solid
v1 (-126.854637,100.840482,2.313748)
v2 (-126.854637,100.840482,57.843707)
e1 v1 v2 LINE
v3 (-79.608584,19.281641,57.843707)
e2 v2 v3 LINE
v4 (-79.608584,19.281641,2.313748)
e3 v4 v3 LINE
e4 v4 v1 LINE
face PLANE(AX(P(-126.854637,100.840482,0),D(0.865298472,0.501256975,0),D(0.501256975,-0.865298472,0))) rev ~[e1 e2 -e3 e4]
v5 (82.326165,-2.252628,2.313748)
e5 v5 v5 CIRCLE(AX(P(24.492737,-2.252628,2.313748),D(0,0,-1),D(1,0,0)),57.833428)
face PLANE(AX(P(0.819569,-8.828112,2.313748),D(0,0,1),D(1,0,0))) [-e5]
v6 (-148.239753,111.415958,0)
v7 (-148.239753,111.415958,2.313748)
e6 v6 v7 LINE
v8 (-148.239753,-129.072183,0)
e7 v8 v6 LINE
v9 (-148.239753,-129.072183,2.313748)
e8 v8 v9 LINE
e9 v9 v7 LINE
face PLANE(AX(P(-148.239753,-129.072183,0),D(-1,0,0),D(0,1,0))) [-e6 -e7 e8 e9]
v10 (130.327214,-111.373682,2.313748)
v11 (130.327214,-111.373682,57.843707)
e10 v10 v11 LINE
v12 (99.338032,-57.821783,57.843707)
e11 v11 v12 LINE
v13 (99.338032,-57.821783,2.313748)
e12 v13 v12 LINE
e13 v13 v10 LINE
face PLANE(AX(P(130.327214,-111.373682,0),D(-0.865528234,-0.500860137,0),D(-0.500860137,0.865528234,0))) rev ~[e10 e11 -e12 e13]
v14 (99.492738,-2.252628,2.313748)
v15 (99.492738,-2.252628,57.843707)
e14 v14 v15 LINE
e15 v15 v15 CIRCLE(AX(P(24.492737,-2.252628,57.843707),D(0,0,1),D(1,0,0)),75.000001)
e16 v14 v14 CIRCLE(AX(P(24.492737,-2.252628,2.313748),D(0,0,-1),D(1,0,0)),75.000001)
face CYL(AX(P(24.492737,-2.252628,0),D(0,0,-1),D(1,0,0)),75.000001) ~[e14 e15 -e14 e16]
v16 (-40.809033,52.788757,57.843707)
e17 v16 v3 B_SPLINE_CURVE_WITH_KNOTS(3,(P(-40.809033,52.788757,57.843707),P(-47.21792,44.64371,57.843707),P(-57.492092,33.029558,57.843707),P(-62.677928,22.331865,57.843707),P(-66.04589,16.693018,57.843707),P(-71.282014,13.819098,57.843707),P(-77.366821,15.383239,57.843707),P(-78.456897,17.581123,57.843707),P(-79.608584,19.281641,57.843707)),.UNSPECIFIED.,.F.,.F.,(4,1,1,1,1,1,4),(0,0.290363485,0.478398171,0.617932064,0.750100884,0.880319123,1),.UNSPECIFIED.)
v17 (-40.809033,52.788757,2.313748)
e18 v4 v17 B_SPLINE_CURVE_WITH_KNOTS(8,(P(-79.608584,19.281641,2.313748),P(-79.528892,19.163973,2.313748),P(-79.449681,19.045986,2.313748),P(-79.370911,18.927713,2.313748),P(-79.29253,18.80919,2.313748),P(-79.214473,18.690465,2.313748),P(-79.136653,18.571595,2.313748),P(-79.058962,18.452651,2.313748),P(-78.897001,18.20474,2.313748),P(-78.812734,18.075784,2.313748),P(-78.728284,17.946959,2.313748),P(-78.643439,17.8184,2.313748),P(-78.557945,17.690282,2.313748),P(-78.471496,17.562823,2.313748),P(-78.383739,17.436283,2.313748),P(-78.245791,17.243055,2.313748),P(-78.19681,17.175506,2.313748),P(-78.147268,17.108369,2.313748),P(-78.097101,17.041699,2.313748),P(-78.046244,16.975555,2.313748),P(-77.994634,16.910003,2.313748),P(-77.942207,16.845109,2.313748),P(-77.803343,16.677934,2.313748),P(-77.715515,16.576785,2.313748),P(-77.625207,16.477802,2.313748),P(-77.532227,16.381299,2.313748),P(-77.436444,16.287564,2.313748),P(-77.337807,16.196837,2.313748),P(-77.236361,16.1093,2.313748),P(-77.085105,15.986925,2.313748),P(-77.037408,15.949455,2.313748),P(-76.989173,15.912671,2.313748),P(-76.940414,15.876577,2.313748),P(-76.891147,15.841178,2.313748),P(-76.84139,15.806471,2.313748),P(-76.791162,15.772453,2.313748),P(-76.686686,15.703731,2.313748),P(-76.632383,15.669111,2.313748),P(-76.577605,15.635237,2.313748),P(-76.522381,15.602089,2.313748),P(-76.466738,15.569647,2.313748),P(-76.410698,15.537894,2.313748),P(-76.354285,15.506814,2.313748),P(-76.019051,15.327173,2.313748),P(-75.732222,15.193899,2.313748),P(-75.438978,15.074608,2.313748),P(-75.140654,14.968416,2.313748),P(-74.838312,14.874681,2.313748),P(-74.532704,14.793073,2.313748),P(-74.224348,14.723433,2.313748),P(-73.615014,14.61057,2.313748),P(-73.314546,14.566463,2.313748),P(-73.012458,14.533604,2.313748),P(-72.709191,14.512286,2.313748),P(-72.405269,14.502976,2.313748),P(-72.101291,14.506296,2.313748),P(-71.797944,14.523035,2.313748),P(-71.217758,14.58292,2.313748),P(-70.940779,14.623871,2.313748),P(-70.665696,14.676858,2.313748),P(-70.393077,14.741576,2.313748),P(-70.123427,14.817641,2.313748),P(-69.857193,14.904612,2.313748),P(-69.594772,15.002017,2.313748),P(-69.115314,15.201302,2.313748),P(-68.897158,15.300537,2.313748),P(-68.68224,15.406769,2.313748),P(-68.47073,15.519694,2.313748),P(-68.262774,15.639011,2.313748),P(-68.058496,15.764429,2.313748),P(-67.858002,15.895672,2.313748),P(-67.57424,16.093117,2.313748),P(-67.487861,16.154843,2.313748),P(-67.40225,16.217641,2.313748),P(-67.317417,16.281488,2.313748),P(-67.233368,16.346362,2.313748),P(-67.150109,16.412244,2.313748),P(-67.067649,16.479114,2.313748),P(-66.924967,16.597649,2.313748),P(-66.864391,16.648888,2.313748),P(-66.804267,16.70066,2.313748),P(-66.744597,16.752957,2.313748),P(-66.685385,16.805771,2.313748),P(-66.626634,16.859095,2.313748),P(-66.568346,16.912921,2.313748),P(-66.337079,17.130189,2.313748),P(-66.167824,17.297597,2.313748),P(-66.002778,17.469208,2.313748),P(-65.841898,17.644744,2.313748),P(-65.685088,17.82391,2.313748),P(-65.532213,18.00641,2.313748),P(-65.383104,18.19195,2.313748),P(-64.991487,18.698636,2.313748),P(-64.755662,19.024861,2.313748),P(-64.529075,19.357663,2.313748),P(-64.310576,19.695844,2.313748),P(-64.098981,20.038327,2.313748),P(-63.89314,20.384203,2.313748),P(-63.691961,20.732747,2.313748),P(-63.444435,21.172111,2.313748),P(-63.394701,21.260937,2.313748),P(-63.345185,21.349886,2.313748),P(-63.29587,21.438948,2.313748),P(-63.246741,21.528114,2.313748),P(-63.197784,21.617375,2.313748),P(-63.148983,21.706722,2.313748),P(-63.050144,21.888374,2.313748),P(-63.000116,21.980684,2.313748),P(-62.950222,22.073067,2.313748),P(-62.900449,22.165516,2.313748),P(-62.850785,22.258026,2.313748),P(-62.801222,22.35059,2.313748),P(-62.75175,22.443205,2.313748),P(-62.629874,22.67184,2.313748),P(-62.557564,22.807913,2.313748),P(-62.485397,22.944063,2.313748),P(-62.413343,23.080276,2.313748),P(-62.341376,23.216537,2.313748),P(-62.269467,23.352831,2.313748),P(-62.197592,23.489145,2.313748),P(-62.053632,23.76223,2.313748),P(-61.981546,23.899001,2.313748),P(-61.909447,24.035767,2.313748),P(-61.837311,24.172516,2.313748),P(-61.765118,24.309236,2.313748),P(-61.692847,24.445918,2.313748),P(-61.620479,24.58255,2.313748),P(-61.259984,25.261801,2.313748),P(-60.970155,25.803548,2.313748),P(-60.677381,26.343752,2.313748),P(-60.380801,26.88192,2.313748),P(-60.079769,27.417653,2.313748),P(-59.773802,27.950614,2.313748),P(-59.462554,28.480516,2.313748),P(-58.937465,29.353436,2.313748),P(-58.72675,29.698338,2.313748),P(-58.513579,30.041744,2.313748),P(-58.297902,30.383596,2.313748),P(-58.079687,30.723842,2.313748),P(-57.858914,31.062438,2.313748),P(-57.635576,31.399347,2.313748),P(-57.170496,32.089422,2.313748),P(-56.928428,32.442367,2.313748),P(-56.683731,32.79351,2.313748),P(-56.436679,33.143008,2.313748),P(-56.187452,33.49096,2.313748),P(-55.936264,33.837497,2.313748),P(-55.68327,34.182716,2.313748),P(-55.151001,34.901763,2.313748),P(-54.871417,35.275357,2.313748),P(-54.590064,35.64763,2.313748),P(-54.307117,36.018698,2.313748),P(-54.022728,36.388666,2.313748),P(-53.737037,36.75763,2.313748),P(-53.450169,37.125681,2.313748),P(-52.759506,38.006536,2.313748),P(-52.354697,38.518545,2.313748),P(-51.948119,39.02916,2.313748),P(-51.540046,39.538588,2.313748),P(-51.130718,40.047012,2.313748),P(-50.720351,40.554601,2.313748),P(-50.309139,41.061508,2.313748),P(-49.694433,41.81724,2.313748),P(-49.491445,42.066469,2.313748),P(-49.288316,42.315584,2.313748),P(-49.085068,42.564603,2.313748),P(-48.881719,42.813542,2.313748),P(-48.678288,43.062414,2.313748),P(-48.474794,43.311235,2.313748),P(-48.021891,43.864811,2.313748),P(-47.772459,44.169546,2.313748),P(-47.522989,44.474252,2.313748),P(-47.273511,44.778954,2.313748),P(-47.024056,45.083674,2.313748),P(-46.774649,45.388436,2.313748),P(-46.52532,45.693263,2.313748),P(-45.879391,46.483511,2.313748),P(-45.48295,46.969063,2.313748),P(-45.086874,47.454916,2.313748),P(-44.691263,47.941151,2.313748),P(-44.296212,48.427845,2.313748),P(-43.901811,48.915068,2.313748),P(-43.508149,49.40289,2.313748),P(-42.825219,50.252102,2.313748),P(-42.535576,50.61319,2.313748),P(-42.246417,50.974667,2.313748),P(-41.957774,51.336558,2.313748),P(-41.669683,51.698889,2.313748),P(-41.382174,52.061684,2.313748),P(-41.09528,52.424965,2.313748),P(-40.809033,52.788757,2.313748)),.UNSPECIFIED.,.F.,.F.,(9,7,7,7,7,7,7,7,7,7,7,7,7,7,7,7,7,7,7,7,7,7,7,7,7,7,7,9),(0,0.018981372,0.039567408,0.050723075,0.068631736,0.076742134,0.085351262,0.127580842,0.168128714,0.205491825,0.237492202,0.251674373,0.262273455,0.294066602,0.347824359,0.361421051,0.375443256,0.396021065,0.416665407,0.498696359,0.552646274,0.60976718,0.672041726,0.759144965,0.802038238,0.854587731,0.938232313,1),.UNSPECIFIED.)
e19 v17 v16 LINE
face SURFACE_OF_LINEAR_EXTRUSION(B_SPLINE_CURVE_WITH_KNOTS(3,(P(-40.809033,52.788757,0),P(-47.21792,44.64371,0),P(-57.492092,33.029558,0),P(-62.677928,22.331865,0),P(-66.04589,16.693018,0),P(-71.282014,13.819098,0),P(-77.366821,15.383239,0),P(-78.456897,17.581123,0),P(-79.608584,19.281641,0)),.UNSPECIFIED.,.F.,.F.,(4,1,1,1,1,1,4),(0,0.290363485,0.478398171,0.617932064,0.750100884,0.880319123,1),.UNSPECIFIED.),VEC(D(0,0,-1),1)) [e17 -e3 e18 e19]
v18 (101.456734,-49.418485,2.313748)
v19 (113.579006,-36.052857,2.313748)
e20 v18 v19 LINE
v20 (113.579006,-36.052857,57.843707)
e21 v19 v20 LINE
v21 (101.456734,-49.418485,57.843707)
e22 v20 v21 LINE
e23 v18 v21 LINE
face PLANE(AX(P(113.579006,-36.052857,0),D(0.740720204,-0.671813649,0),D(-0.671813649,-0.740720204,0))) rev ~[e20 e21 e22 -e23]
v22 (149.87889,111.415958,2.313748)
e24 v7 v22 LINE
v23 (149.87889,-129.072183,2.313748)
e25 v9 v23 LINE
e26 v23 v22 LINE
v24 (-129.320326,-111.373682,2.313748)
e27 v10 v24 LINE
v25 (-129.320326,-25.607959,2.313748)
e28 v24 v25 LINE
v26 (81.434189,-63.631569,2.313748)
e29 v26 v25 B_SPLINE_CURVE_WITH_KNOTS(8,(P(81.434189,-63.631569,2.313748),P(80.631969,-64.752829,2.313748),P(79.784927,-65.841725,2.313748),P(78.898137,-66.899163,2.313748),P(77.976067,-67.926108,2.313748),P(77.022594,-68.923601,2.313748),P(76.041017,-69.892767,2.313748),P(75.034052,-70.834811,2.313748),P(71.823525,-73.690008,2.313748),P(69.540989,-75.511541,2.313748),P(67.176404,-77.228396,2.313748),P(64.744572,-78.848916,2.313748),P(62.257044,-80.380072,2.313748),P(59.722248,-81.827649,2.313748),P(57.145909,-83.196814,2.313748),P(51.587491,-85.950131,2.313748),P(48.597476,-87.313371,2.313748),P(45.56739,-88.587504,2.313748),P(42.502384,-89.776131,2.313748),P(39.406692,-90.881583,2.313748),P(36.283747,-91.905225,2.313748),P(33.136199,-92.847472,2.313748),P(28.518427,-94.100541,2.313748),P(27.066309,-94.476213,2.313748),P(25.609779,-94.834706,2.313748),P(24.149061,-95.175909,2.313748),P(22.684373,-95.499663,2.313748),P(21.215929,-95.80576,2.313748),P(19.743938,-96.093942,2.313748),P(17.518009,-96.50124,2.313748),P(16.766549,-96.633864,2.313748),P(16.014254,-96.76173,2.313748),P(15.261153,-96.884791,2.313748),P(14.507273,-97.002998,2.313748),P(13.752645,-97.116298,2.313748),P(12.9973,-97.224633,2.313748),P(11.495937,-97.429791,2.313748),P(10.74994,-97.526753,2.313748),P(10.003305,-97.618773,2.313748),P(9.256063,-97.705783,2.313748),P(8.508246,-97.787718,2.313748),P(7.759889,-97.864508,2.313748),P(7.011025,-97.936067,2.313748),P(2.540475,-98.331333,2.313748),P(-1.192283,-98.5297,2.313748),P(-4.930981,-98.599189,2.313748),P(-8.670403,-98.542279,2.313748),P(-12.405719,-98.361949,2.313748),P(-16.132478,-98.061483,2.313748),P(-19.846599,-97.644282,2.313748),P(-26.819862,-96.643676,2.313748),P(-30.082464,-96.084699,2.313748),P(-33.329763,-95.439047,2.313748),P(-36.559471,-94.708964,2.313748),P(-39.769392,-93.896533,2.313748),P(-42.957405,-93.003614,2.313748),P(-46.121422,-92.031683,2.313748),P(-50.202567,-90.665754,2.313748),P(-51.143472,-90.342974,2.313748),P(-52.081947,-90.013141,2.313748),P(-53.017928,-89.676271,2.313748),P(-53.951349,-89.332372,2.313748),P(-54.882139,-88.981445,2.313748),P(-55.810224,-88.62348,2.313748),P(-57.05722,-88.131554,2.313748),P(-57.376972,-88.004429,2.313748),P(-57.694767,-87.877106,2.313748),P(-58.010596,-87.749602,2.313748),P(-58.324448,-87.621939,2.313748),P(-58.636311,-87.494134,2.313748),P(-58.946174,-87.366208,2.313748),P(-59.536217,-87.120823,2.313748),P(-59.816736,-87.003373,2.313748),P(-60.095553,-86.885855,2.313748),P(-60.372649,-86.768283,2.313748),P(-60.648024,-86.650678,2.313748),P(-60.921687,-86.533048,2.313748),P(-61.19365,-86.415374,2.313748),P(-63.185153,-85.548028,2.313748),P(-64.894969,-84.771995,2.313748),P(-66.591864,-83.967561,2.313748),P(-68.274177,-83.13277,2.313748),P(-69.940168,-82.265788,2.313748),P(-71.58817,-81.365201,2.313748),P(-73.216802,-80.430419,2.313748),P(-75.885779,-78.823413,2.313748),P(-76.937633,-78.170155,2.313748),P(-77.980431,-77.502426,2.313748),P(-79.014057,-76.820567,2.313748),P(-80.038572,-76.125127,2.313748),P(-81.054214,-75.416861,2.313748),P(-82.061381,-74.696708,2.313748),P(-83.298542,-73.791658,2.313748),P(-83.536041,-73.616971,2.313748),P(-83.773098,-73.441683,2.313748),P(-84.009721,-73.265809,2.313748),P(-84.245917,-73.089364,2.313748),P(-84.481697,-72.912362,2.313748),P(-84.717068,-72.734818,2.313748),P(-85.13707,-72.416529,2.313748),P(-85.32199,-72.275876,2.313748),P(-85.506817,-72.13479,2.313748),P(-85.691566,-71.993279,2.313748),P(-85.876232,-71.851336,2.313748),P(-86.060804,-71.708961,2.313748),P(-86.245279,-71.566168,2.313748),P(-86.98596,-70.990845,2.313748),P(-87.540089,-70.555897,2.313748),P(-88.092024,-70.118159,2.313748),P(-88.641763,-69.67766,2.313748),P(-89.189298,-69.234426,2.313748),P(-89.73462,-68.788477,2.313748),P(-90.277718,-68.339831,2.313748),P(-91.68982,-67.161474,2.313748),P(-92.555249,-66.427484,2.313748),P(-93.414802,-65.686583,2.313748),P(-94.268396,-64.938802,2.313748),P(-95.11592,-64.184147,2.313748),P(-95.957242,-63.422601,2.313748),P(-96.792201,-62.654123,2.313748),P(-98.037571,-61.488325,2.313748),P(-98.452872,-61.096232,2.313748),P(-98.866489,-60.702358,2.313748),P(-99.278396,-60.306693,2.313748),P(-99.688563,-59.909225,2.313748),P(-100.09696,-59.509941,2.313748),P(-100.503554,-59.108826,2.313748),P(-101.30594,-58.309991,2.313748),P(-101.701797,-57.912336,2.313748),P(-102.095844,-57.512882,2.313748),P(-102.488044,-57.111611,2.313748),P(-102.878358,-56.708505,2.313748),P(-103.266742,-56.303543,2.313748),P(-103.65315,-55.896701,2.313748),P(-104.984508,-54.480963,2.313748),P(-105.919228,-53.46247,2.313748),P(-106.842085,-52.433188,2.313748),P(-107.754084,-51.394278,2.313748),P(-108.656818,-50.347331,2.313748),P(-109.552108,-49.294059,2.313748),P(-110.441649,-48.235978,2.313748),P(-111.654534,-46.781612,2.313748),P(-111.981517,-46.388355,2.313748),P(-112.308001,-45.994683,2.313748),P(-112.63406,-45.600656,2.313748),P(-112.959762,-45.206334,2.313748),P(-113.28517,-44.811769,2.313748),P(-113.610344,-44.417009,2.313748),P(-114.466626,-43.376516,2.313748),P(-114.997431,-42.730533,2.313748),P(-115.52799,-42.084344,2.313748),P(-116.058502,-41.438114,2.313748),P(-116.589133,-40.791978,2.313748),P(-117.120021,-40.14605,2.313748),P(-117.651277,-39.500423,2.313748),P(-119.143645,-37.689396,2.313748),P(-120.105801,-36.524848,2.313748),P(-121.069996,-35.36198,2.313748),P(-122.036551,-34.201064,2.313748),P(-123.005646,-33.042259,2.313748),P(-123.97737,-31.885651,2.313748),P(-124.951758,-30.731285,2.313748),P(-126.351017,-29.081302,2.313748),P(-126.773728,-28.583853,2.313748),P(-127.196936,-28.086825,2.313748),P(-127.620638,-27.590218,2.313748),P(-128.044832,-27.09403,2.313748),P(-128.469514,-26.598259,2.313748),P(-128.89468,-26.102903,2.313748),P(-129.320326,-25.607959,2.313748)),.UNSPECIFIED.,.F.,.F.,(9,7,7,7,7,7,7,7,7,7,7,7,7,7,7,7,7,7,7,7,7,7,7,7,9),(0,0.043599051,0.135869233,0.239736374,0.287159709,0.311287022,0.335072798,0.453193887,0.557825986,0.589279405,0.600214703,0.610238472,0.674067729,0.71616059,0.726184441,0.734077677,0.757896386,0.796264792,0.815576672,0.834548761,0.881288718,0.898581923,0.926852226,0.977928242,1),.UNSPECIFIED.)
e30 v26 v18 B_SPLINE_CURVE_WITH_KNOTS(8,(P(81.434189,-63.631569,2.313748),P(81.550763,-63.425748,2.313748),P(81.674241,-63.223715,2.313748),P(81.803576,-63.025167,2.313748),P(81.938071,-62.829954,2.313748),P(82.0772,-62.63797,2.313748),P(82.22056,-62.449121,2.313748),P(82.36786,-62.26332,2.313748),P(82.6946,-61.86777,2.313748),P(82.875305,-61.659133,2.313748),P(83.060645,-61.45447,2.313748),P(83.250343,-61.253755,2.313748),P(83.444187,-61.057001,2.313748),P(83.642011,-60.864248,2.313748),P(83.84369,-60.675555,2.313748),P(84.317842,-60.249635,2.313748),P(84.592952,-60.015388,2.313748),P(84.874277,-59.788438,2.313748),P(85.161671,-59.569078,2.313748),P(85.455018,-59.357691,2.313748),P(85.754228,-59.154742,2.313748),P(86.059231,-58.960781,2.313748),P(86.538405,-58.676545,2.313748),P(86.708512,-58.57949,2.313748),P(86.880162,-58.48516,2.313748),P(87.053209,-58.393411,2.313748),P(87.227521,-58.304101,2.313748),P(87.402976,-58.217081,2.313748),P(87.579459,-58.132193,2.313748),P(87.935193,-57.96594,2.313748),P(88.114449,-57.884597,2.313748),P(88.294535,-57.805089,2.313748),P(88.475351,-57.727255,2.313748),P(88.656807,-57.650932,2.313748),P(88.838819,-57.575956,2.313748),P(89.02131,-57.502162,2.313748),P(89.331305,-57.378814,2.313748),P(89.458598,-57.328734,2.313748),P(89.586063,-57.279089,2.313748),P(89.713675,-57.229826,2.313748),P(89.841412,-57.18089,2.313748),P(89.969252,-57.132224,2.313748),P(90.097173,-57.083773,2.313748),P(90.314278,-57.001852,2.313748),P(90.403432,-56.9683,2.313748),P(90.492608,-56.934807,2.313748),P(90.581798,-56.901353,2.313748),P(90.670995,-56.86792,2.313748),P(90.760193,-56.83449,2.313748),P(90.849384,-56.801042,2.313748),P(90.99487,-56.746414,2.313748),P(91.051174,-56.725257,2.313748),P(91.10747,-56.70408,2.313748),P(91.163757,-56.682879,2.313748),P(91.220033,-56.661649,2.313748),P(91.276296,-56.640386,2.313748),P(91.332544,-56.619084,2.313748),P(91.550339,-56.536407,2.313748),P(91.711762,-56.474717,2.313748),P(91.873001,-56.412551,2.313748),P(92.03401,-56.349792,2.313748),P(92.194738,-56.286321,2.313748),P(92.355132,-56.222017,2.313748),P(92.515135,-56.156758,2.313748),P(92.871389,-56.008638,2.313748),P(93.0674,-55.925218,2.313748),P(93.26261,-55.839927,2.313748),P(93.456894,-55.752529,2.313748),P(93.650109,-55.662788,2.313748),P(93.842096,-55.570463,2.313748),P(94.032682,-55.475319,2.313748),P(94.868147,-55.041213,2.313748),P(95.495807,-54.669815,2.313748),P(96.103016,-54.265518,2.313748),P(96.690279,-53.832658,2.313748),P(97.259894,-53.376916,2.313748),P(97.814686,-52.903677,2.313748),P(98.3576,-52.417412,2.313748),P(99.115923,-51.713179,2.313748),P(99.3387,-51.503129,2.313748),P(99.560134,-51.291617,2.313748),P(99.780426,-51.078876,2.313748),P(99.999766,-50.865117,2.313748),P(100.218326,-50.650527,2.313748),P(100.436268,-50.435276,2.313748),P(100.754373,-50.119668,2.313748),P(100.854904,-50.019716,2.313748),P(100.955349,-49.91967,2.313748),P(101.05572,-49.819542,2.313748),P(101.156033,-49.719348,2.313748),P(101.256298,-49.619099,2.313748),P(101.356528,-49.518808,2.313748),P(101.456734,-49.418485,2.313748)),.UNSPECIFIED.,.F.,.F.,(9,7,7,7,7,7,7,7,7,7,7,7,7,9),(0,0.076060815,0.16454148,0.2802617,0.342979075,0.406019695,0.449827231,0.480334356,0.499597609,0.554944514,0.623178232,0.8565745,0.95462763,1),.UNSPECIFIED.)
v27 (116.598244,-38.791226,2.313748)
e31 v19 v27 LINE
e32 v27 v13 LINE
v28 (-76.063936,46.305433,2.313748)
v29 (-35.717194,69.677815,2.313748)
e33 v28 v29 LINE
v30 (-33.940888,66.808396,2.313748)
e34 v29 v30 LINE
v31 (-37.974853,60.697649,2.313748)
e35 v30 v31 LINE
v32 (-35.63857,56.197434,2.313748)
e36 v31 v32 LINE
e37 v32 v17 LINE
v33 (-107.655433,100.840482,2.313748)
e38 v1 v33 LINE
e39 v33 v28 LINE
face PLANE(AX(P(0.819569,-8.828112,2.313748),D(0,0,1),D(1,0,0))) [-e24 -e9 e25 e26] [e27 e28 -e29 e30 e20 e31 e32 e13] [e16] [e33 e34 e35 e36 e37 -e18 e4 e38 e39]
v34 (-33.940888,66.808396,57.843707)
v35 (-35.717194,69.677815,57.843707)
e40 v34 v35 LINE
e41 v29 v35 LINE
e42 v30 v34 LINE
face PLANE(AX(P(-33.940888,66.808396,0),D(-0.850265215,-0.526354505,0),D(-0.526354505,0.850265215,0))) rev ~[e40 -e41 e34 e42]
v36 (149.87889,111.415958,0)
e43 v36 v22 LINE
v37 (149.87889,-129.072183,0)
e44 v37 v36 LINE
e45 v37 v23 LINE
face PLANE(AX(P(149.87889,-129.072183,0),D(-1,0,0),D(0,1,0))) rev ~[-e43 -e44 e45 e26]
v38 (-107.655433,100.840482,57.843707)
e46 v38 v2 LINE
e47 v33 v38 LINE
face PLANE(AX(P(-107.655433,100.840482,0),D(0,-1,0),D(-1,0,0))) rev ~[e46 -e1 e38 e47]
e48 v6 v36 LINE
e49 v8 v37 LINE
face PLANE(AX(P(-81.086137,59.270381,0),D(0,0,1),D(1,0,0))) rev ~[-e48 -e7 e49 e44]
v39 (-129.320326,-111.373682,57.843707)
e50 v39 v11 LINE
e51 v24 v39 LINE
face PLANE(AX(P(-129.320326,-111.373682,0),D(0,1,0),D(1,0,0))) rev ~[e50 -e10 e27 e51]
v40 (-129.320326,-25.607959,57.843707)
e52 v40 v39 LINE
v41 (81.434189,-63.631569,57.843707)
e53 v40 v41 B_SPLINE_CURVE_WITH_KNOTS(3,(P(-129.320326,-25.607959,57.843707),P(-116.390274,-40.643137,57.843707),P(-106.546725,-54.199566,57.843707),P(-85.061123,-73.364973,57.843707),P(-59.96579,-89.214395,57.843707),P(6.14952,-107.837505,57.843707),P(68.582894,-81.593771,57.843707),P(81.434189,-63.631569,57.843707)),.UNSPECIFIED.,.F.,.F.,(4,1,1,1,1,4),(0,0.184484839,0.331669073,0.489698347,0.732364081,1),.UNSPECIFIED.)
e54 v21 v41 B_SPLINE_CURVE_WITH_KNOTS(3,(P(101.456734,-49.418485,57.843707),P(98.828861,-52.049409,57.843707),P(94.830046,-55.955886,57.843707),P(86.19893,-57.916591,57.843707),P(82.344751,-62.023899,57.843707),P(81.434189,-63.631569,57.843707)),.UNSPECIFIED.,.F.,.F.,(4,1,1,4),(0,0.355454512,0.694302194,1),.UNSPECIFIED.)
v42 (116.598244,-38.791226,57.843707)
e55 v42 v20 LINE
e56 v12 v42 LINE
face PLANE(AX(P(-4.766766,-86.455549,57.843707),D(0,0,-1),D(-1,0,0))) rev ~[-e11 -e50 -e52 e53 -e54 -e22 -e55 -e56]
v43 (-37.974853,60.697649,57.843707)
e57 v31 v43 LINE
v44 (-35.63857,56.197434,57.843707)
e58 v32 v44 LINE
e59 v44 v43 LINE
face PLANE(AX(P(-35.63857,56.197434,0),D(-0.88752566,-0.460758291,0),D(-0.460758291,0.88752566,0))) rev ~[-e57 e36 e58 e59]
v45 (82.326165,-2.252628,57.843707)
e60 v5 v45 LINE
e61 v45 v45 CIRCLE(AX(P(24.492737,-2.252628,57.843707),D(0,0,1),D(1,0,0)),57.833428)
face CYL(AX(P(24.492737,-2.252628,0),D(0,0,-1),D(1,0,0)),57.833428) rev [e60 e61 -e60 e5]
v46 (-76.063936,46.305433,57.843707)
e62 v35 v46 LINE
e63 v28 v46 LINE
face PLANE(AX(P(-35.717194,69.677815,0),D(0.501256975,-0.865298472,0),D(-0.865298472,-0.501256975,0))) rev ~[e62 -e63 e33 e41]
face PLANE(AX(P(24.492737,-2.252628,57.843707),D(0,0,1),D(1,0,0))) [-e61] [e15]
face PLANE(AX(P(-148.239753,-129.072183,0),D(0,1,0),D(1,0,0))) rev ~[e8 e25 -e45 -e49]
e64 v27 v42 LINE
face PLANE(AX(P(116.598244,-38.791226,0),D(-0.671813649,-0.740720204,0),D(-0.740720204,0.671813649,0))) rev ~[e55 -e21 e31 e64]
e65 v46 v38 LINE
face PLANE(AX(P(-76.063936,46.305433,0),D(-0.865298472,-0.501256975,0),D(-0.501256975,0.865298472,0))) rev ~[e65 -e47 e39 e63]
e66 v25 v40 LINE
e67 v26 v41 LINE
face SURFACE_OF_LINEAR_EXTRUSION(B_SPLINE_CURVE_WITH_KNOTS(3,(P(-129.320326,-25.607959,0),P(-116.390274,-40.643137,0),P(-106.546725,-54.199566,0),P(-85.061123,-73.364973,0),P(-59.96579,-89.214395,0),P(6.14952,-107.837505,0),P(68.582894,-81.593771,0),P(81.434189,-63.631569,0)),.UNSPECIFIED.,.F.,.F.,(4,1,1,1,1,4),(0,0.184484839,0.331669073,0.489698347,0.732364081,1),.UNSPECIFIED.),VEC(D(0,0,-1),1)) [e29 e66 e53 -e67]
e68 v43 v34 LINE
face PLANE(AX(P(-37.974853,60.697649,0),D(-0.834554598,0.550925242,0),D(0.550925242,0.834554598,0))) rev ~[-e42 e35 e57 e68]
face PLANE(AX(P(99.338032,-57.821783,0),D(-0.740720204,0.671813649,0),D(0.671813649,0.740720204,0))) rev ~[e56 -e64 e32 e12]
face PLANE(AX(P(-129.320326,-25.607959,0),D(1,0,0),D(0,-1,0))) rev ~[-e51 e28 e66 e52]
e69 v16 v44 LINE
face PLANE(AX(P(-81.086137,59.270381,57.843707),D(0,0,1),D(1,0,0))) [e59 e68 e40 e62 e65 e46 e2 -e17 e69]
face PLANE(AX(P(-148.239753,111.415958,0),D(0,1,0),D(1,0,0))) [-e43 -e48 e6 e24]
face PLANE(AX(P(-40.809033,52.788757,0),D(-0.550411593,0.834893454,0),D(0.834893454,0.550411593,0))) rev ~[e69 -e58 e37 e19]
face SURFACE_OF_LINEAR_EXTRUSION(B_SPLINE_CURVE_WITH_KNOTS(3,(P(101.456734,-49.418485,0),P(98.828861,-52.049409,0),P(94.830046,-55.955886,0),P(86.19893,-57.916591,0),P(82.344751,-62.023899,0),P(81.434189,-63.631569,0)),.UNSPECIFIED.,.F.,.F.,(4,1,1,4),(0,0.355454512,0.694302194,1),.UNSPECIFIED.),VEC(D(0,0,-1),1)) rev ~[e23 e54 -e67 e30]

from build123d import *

# Parameters (mm, degrees)
F0_W     = 128.8466192782
F0_H     = 103.9387658238
F0_R     = 32.4149354106
F0_R_2   = 24.9955574606
F1_DEPTH = 1
F2_DEPTH = 25
F3_SCALE = 2.3137482768


with BuildPart() as f1:
    # F0 (on Top) → F1 (new body)
    with BuildSketch(Plane.XY):
        with Locations((14.2612140626, -5.0945468247)):
            Rectangle(F0_W, F0_H)
        with BuildLine():
            Line((-41.9851355255, -49.414653331), (-41.9851355255, -12.3467817903))
            add(Edge.make_bspline(
                [(-41.9851355255, -12.3467817903), (-36.3967784384, -18.8449727069), (-32.1424049152, -24.7040496659), (-22.8563463397, -32.9873221008), (-12.0101651624, -39.837428659), (16.564814538, -47.8863203718), (43.5484647751, -36.5438014269), (49.1027832031, -28.7805534899)],
                knots=[0, 0, 0, 0, 0.1844848392, 0.3316690726, 0.4896983473, 0.7323640813, 1, 1, 1, 1], degree=3))
            add(Edge.make_bspline(
                [(57.7565097543, -22.6376708612), (56.6207453111, -23.7747538402), (54.8924607702, -25.4631297698), (51.1620999135, -26.310544921), (49.4963274328, -28.0857197846), (49.1027832031, -28.7805534899)],
                knots=[0, 0, 0, 0, 0.3554545122, 0.6943021938, 1, 1, 1, 1], degree=3))
            Line((57.7565097543, -22.6376708612), (62.9957451229, -16.8610578102))
            Line((62.9957451229, -16.8610578102), (64.300657325, -18.0445786904))
            Line((64.300657325, -18.0445786904), (56.8408086757, -26.2695687958))
            Line((56.8408086757, -26.2695687958), (70.2343061566, -49.414653331))
            Line((70.2343061566, -49.414653331), (-41.9851355255, -49.414653331))
        make_face(mode=Mode.SUBTRACT)
        with BuildLine():
            Line((-32.6215874869, 42.3041246831), (-18.9677700843, 18.7341238128))
            Line((-18.9677700843, 18.7341238128), (-1.5299430816, 28.8356468081))
            Line((-1.5299430816, 28.8356468081), (-0.7622250123, 27.5954864919))
            Line((-0.7622250123, 27.5954864919), (-2.5057015009, 24.9544270337))
            Line((-2.5057015009, 24.9544270337), (-1.4959619148, 23.0094380677))
            Line((-1.4959619148, 23.0094380677), (-3.7306314334, 21.5362105519))
            add(Edge.make_bspline(
                [(-3.7306314334, 21.5362105519), (-6.5005469966, 18.0159286469), (-10.9410352174, 12.9963019479), (-13.1823487403, 8.3727682989), (-14.6379791594, 5.9356637591), (-16.901027249, 4.6935576771), (-19.530875768, 5.3695780508), (-20.0020056218, 6.3195019029), (-20.4997636371, 7.0544643041)],
                knots=[0, 0, 0, 0, 0.290363485, 0.4783981708, 0.6179320642, 0.7501008839, 0.8803191229, 1, 1, 1, 1], degree=3))
            Line((-20.4997636371, 7.0544643041), (-40.919467012, 42.3041246831))
            Line((-40.919467012, 42.3041246831), (-32.6215874869, 42.3041246831))
        make_face(mode=Mode.SUBTRACT)
        with Locations((24.4927369058, -2.2526283283)):
            Circle(F0_R, mode=Mode.SUBTRACT)
        with Locations((24.4927369058, -2.2526283283)):
            Circle(F0_R)
        with Locations((24.4927369058, -2.2526283283)):
            Circle(F0_R_2, mode=Mode.SUBTRACT)
        with Locations((24.4927369058, -2.2526283283)):
            Circle(F0_R_2)
        with BuildLine():
            Line((-1.5299430816, 28.8356468081), (-18.9677700843, 18.7341238128))
            Line((-18.9677700843, 18.7341238128), (-32.6215874869, 42.3041246831))
            Line((-32.6215874869, 42.3041246831), (-40.919467012, 42.3041246831))
            Line((-40.919467012, 42.3041246831), (-20.4997636371, 7.0544643041))
            add(Edge.make_bspline(
                [(-3.7306314334, 21.5362105519), (-6.5005469966, 18.0159286469), (-10.9410352174, 12.9963019479), (-13.1823487403, 8.3727682989), (-14.6379791594, 5.9356637591), (-16.901027249, 4.6935576771), (-19.530875768, 5.3695780508), (-20.0020056218, 6.3195019029), (-20.4997636371, 7.0544643041)],
                knots=[0, 0, 0, 0, 0.290363485, 0.4783981708, 0.6179320642, 0.7501008839, 0.8803191229, 1, 1, 1, 1], degree=3))
            Line((-3.7306314334, 21.5362105519), (-1.4959619148, 23.0094380677))
            Line((-1.4959619148, 23.0094380677), (-2.5057015009, 24.9544270337))
            Line((-2.5057015009, 24.9544270337), (-0.7622250123, 27.5954864919))
            Line((-0.7622250123, 27.5954864919), (-1.5299430816, 28.8356468081))
        make_face()
        with BuildLine():
            add(Edge.make_bspline(
                [(-41.9851355255, -12.3467817903), (-36.3967784384, -18.8449727069), (-32.1424049152, -24.7040496659), (-22.8563463397, -32.9873221008), (-12.0101651624, -39.837428659), (16.564814538, -47.8863203718), (43.5484647751, -36.5438014269), (49.1027832031, -28.7805534899)],
                knots=[0, 0, 0, 0, 0.1844848392, 0.3316690726, 0.4896983473, 0.7323640813, 1, 1, 1, 1], degree=3))
            Line((-41.9851355255, -12.3467817903), (-41.9851355255, -49.414653331))
            Line((-41.9851355255, -49.414653331), (70.2343061566, -49.414653331))
            Line((70.2343061566, -49.414653331), (56.8408086757, -26.2695687958))
            Line((56.8408086757, -26.2695687958), (64.300657325, -18.0445786904))
            Line((64.300657325, -18.0445786904), (62.9957451229, -16.8610578102))
            Line((62.9957451229, -16.8610578102), (57.7565097543, -22.6376708612))
            add(Edge.make_bspline(
                [(57.7565097543, -22.6376708612), (56.6207453111, -23.7747538402), (54.8924607702, -25.4631297698), (51.1620999135, -26.310544921), (49.4963274328, -28.0857197846), (49.1027832031, -28.7805534899)],
                knots=[0, 0, 0, 0, 0.3554545122, 0.6943021938, 1, 1, 1, 1], degree=3))
        make_face()
    extrude(amount=F1_DEPTH)

    # F0 (on Top) → F2 (join)
    with BuildSketch(Plane.XY):
        with BuildLine():
            Line((-1.5299430816, 28.8356468081), (-18.9677700843, 18.7341238128))
            Line((-18.9677700843, 18.7341238128), (-32.6215874869, 42.3041246831))
            Line((-32.6215874869, 42.3041246831), (-40.919467012, 42.3041246831))
            Line((-40.919467012, 42.3041246831), (-20.4997636371, 7.0544643041))
            add(Edge.make_bspline(
                [(-3.7306314334, 21.5362105519), (-6.5005469966, 18.0159286469), (-10.9410352174, 12.9963019479), (-13.1823487403, 8.3727682989), (-14.6379791594, 5.9356637591), (-16.901027249, 4.6935576771), (-19.530875768, 5.3695780508), (-20.0020056218, 6.3195019029), (-20.4997636371, 7.0544643041)],
                knots=[0, 0, 0, 0, 0.290363485, 0.4783981708, 0.6179320642, 0.7501008839, 0.8803191229, 1, 1, 1, 1], degree=3))
            Line((-3.7306314334, 21.5362105519), (-1.4959619148, 23.0094380677))
            Line((-1.4959619148, 23.0094380677), (-2.5057015009, 24.9544270337))
            Line((-2.5057015009, 24.9544270337), (-0.7622250123, 27.5954864919))
            Line((-0.7622250123, 27.5954864919), (-1.5299430816, 28.8356468081))
        make_face()
        with Locations((24.4927369058, -2.2526283283)):
            Circle(F0_R)
        with Locations((24.4927369058, -2.2526283283)):
            Circle(F0_R_2, mode=Mode.SUBTRACT)
        with BuildLine():
            add(Edge.make_bspline(
                [(-41.9851355255, -12.3467817903), (-36.3967784384, -18.8449727069), (-32.1424049152, -24.7040496659), (-22.8563463397, -32.9873221008), (-12.0101651624, -39.837428659), (16.564814538, -47.8863203718), (43.5484647751, -36.5438014269), (49.1027832031, -28.7805534899)],
                knots=[0, 0, 0, 0, 0.1844848392, 0.3316690726, 0.4896983473, 0.7323640813, 1, 1, 1, 1], degree=3))
            Line((-41.9851355255, -12.3467817903), (-41.9851355255, -49.414653331))
            Line((-41.9851355255, -49.414653331), (70.2343061566, -49.414653331))
            Line((70.2343061566, -49.414653331), (56.8408086757, -26.2695687958))
            Line((56.8408086757, -26.2695687958), (64.300657325, -18.0445786904))
            Line((64.300657325, -18.0445786904), (62.9957451229, -16.8610578102))
            Line((62.9957451229, -16.8610578102), (57.7565097543, -22.6376708612))
            add(Edge.make_bspline(
                [(57.7565097543, -22.6376708612), (56.6207453111, -23.7747538402), (54.8924607702, -25.4631297698), (51.1620999135, -26.310544921), (49.4963274328, -28.0857197846), (49.1027832031, -28.7805534899)],
                knots=[0, 0, 0, 0, 0.3554545122, 0.6943021938, 1, 1, 1, 1], degree=3))
        make_face()
    extrude(amount=F2_DEPTH)


with BuildPart() as f1_1:
    # F3: moved
    add(f1.part.scale(F3_SCALE).moved(Location((-32.177290905, 2.9593865846, 0))))


solid = f1_1.part
